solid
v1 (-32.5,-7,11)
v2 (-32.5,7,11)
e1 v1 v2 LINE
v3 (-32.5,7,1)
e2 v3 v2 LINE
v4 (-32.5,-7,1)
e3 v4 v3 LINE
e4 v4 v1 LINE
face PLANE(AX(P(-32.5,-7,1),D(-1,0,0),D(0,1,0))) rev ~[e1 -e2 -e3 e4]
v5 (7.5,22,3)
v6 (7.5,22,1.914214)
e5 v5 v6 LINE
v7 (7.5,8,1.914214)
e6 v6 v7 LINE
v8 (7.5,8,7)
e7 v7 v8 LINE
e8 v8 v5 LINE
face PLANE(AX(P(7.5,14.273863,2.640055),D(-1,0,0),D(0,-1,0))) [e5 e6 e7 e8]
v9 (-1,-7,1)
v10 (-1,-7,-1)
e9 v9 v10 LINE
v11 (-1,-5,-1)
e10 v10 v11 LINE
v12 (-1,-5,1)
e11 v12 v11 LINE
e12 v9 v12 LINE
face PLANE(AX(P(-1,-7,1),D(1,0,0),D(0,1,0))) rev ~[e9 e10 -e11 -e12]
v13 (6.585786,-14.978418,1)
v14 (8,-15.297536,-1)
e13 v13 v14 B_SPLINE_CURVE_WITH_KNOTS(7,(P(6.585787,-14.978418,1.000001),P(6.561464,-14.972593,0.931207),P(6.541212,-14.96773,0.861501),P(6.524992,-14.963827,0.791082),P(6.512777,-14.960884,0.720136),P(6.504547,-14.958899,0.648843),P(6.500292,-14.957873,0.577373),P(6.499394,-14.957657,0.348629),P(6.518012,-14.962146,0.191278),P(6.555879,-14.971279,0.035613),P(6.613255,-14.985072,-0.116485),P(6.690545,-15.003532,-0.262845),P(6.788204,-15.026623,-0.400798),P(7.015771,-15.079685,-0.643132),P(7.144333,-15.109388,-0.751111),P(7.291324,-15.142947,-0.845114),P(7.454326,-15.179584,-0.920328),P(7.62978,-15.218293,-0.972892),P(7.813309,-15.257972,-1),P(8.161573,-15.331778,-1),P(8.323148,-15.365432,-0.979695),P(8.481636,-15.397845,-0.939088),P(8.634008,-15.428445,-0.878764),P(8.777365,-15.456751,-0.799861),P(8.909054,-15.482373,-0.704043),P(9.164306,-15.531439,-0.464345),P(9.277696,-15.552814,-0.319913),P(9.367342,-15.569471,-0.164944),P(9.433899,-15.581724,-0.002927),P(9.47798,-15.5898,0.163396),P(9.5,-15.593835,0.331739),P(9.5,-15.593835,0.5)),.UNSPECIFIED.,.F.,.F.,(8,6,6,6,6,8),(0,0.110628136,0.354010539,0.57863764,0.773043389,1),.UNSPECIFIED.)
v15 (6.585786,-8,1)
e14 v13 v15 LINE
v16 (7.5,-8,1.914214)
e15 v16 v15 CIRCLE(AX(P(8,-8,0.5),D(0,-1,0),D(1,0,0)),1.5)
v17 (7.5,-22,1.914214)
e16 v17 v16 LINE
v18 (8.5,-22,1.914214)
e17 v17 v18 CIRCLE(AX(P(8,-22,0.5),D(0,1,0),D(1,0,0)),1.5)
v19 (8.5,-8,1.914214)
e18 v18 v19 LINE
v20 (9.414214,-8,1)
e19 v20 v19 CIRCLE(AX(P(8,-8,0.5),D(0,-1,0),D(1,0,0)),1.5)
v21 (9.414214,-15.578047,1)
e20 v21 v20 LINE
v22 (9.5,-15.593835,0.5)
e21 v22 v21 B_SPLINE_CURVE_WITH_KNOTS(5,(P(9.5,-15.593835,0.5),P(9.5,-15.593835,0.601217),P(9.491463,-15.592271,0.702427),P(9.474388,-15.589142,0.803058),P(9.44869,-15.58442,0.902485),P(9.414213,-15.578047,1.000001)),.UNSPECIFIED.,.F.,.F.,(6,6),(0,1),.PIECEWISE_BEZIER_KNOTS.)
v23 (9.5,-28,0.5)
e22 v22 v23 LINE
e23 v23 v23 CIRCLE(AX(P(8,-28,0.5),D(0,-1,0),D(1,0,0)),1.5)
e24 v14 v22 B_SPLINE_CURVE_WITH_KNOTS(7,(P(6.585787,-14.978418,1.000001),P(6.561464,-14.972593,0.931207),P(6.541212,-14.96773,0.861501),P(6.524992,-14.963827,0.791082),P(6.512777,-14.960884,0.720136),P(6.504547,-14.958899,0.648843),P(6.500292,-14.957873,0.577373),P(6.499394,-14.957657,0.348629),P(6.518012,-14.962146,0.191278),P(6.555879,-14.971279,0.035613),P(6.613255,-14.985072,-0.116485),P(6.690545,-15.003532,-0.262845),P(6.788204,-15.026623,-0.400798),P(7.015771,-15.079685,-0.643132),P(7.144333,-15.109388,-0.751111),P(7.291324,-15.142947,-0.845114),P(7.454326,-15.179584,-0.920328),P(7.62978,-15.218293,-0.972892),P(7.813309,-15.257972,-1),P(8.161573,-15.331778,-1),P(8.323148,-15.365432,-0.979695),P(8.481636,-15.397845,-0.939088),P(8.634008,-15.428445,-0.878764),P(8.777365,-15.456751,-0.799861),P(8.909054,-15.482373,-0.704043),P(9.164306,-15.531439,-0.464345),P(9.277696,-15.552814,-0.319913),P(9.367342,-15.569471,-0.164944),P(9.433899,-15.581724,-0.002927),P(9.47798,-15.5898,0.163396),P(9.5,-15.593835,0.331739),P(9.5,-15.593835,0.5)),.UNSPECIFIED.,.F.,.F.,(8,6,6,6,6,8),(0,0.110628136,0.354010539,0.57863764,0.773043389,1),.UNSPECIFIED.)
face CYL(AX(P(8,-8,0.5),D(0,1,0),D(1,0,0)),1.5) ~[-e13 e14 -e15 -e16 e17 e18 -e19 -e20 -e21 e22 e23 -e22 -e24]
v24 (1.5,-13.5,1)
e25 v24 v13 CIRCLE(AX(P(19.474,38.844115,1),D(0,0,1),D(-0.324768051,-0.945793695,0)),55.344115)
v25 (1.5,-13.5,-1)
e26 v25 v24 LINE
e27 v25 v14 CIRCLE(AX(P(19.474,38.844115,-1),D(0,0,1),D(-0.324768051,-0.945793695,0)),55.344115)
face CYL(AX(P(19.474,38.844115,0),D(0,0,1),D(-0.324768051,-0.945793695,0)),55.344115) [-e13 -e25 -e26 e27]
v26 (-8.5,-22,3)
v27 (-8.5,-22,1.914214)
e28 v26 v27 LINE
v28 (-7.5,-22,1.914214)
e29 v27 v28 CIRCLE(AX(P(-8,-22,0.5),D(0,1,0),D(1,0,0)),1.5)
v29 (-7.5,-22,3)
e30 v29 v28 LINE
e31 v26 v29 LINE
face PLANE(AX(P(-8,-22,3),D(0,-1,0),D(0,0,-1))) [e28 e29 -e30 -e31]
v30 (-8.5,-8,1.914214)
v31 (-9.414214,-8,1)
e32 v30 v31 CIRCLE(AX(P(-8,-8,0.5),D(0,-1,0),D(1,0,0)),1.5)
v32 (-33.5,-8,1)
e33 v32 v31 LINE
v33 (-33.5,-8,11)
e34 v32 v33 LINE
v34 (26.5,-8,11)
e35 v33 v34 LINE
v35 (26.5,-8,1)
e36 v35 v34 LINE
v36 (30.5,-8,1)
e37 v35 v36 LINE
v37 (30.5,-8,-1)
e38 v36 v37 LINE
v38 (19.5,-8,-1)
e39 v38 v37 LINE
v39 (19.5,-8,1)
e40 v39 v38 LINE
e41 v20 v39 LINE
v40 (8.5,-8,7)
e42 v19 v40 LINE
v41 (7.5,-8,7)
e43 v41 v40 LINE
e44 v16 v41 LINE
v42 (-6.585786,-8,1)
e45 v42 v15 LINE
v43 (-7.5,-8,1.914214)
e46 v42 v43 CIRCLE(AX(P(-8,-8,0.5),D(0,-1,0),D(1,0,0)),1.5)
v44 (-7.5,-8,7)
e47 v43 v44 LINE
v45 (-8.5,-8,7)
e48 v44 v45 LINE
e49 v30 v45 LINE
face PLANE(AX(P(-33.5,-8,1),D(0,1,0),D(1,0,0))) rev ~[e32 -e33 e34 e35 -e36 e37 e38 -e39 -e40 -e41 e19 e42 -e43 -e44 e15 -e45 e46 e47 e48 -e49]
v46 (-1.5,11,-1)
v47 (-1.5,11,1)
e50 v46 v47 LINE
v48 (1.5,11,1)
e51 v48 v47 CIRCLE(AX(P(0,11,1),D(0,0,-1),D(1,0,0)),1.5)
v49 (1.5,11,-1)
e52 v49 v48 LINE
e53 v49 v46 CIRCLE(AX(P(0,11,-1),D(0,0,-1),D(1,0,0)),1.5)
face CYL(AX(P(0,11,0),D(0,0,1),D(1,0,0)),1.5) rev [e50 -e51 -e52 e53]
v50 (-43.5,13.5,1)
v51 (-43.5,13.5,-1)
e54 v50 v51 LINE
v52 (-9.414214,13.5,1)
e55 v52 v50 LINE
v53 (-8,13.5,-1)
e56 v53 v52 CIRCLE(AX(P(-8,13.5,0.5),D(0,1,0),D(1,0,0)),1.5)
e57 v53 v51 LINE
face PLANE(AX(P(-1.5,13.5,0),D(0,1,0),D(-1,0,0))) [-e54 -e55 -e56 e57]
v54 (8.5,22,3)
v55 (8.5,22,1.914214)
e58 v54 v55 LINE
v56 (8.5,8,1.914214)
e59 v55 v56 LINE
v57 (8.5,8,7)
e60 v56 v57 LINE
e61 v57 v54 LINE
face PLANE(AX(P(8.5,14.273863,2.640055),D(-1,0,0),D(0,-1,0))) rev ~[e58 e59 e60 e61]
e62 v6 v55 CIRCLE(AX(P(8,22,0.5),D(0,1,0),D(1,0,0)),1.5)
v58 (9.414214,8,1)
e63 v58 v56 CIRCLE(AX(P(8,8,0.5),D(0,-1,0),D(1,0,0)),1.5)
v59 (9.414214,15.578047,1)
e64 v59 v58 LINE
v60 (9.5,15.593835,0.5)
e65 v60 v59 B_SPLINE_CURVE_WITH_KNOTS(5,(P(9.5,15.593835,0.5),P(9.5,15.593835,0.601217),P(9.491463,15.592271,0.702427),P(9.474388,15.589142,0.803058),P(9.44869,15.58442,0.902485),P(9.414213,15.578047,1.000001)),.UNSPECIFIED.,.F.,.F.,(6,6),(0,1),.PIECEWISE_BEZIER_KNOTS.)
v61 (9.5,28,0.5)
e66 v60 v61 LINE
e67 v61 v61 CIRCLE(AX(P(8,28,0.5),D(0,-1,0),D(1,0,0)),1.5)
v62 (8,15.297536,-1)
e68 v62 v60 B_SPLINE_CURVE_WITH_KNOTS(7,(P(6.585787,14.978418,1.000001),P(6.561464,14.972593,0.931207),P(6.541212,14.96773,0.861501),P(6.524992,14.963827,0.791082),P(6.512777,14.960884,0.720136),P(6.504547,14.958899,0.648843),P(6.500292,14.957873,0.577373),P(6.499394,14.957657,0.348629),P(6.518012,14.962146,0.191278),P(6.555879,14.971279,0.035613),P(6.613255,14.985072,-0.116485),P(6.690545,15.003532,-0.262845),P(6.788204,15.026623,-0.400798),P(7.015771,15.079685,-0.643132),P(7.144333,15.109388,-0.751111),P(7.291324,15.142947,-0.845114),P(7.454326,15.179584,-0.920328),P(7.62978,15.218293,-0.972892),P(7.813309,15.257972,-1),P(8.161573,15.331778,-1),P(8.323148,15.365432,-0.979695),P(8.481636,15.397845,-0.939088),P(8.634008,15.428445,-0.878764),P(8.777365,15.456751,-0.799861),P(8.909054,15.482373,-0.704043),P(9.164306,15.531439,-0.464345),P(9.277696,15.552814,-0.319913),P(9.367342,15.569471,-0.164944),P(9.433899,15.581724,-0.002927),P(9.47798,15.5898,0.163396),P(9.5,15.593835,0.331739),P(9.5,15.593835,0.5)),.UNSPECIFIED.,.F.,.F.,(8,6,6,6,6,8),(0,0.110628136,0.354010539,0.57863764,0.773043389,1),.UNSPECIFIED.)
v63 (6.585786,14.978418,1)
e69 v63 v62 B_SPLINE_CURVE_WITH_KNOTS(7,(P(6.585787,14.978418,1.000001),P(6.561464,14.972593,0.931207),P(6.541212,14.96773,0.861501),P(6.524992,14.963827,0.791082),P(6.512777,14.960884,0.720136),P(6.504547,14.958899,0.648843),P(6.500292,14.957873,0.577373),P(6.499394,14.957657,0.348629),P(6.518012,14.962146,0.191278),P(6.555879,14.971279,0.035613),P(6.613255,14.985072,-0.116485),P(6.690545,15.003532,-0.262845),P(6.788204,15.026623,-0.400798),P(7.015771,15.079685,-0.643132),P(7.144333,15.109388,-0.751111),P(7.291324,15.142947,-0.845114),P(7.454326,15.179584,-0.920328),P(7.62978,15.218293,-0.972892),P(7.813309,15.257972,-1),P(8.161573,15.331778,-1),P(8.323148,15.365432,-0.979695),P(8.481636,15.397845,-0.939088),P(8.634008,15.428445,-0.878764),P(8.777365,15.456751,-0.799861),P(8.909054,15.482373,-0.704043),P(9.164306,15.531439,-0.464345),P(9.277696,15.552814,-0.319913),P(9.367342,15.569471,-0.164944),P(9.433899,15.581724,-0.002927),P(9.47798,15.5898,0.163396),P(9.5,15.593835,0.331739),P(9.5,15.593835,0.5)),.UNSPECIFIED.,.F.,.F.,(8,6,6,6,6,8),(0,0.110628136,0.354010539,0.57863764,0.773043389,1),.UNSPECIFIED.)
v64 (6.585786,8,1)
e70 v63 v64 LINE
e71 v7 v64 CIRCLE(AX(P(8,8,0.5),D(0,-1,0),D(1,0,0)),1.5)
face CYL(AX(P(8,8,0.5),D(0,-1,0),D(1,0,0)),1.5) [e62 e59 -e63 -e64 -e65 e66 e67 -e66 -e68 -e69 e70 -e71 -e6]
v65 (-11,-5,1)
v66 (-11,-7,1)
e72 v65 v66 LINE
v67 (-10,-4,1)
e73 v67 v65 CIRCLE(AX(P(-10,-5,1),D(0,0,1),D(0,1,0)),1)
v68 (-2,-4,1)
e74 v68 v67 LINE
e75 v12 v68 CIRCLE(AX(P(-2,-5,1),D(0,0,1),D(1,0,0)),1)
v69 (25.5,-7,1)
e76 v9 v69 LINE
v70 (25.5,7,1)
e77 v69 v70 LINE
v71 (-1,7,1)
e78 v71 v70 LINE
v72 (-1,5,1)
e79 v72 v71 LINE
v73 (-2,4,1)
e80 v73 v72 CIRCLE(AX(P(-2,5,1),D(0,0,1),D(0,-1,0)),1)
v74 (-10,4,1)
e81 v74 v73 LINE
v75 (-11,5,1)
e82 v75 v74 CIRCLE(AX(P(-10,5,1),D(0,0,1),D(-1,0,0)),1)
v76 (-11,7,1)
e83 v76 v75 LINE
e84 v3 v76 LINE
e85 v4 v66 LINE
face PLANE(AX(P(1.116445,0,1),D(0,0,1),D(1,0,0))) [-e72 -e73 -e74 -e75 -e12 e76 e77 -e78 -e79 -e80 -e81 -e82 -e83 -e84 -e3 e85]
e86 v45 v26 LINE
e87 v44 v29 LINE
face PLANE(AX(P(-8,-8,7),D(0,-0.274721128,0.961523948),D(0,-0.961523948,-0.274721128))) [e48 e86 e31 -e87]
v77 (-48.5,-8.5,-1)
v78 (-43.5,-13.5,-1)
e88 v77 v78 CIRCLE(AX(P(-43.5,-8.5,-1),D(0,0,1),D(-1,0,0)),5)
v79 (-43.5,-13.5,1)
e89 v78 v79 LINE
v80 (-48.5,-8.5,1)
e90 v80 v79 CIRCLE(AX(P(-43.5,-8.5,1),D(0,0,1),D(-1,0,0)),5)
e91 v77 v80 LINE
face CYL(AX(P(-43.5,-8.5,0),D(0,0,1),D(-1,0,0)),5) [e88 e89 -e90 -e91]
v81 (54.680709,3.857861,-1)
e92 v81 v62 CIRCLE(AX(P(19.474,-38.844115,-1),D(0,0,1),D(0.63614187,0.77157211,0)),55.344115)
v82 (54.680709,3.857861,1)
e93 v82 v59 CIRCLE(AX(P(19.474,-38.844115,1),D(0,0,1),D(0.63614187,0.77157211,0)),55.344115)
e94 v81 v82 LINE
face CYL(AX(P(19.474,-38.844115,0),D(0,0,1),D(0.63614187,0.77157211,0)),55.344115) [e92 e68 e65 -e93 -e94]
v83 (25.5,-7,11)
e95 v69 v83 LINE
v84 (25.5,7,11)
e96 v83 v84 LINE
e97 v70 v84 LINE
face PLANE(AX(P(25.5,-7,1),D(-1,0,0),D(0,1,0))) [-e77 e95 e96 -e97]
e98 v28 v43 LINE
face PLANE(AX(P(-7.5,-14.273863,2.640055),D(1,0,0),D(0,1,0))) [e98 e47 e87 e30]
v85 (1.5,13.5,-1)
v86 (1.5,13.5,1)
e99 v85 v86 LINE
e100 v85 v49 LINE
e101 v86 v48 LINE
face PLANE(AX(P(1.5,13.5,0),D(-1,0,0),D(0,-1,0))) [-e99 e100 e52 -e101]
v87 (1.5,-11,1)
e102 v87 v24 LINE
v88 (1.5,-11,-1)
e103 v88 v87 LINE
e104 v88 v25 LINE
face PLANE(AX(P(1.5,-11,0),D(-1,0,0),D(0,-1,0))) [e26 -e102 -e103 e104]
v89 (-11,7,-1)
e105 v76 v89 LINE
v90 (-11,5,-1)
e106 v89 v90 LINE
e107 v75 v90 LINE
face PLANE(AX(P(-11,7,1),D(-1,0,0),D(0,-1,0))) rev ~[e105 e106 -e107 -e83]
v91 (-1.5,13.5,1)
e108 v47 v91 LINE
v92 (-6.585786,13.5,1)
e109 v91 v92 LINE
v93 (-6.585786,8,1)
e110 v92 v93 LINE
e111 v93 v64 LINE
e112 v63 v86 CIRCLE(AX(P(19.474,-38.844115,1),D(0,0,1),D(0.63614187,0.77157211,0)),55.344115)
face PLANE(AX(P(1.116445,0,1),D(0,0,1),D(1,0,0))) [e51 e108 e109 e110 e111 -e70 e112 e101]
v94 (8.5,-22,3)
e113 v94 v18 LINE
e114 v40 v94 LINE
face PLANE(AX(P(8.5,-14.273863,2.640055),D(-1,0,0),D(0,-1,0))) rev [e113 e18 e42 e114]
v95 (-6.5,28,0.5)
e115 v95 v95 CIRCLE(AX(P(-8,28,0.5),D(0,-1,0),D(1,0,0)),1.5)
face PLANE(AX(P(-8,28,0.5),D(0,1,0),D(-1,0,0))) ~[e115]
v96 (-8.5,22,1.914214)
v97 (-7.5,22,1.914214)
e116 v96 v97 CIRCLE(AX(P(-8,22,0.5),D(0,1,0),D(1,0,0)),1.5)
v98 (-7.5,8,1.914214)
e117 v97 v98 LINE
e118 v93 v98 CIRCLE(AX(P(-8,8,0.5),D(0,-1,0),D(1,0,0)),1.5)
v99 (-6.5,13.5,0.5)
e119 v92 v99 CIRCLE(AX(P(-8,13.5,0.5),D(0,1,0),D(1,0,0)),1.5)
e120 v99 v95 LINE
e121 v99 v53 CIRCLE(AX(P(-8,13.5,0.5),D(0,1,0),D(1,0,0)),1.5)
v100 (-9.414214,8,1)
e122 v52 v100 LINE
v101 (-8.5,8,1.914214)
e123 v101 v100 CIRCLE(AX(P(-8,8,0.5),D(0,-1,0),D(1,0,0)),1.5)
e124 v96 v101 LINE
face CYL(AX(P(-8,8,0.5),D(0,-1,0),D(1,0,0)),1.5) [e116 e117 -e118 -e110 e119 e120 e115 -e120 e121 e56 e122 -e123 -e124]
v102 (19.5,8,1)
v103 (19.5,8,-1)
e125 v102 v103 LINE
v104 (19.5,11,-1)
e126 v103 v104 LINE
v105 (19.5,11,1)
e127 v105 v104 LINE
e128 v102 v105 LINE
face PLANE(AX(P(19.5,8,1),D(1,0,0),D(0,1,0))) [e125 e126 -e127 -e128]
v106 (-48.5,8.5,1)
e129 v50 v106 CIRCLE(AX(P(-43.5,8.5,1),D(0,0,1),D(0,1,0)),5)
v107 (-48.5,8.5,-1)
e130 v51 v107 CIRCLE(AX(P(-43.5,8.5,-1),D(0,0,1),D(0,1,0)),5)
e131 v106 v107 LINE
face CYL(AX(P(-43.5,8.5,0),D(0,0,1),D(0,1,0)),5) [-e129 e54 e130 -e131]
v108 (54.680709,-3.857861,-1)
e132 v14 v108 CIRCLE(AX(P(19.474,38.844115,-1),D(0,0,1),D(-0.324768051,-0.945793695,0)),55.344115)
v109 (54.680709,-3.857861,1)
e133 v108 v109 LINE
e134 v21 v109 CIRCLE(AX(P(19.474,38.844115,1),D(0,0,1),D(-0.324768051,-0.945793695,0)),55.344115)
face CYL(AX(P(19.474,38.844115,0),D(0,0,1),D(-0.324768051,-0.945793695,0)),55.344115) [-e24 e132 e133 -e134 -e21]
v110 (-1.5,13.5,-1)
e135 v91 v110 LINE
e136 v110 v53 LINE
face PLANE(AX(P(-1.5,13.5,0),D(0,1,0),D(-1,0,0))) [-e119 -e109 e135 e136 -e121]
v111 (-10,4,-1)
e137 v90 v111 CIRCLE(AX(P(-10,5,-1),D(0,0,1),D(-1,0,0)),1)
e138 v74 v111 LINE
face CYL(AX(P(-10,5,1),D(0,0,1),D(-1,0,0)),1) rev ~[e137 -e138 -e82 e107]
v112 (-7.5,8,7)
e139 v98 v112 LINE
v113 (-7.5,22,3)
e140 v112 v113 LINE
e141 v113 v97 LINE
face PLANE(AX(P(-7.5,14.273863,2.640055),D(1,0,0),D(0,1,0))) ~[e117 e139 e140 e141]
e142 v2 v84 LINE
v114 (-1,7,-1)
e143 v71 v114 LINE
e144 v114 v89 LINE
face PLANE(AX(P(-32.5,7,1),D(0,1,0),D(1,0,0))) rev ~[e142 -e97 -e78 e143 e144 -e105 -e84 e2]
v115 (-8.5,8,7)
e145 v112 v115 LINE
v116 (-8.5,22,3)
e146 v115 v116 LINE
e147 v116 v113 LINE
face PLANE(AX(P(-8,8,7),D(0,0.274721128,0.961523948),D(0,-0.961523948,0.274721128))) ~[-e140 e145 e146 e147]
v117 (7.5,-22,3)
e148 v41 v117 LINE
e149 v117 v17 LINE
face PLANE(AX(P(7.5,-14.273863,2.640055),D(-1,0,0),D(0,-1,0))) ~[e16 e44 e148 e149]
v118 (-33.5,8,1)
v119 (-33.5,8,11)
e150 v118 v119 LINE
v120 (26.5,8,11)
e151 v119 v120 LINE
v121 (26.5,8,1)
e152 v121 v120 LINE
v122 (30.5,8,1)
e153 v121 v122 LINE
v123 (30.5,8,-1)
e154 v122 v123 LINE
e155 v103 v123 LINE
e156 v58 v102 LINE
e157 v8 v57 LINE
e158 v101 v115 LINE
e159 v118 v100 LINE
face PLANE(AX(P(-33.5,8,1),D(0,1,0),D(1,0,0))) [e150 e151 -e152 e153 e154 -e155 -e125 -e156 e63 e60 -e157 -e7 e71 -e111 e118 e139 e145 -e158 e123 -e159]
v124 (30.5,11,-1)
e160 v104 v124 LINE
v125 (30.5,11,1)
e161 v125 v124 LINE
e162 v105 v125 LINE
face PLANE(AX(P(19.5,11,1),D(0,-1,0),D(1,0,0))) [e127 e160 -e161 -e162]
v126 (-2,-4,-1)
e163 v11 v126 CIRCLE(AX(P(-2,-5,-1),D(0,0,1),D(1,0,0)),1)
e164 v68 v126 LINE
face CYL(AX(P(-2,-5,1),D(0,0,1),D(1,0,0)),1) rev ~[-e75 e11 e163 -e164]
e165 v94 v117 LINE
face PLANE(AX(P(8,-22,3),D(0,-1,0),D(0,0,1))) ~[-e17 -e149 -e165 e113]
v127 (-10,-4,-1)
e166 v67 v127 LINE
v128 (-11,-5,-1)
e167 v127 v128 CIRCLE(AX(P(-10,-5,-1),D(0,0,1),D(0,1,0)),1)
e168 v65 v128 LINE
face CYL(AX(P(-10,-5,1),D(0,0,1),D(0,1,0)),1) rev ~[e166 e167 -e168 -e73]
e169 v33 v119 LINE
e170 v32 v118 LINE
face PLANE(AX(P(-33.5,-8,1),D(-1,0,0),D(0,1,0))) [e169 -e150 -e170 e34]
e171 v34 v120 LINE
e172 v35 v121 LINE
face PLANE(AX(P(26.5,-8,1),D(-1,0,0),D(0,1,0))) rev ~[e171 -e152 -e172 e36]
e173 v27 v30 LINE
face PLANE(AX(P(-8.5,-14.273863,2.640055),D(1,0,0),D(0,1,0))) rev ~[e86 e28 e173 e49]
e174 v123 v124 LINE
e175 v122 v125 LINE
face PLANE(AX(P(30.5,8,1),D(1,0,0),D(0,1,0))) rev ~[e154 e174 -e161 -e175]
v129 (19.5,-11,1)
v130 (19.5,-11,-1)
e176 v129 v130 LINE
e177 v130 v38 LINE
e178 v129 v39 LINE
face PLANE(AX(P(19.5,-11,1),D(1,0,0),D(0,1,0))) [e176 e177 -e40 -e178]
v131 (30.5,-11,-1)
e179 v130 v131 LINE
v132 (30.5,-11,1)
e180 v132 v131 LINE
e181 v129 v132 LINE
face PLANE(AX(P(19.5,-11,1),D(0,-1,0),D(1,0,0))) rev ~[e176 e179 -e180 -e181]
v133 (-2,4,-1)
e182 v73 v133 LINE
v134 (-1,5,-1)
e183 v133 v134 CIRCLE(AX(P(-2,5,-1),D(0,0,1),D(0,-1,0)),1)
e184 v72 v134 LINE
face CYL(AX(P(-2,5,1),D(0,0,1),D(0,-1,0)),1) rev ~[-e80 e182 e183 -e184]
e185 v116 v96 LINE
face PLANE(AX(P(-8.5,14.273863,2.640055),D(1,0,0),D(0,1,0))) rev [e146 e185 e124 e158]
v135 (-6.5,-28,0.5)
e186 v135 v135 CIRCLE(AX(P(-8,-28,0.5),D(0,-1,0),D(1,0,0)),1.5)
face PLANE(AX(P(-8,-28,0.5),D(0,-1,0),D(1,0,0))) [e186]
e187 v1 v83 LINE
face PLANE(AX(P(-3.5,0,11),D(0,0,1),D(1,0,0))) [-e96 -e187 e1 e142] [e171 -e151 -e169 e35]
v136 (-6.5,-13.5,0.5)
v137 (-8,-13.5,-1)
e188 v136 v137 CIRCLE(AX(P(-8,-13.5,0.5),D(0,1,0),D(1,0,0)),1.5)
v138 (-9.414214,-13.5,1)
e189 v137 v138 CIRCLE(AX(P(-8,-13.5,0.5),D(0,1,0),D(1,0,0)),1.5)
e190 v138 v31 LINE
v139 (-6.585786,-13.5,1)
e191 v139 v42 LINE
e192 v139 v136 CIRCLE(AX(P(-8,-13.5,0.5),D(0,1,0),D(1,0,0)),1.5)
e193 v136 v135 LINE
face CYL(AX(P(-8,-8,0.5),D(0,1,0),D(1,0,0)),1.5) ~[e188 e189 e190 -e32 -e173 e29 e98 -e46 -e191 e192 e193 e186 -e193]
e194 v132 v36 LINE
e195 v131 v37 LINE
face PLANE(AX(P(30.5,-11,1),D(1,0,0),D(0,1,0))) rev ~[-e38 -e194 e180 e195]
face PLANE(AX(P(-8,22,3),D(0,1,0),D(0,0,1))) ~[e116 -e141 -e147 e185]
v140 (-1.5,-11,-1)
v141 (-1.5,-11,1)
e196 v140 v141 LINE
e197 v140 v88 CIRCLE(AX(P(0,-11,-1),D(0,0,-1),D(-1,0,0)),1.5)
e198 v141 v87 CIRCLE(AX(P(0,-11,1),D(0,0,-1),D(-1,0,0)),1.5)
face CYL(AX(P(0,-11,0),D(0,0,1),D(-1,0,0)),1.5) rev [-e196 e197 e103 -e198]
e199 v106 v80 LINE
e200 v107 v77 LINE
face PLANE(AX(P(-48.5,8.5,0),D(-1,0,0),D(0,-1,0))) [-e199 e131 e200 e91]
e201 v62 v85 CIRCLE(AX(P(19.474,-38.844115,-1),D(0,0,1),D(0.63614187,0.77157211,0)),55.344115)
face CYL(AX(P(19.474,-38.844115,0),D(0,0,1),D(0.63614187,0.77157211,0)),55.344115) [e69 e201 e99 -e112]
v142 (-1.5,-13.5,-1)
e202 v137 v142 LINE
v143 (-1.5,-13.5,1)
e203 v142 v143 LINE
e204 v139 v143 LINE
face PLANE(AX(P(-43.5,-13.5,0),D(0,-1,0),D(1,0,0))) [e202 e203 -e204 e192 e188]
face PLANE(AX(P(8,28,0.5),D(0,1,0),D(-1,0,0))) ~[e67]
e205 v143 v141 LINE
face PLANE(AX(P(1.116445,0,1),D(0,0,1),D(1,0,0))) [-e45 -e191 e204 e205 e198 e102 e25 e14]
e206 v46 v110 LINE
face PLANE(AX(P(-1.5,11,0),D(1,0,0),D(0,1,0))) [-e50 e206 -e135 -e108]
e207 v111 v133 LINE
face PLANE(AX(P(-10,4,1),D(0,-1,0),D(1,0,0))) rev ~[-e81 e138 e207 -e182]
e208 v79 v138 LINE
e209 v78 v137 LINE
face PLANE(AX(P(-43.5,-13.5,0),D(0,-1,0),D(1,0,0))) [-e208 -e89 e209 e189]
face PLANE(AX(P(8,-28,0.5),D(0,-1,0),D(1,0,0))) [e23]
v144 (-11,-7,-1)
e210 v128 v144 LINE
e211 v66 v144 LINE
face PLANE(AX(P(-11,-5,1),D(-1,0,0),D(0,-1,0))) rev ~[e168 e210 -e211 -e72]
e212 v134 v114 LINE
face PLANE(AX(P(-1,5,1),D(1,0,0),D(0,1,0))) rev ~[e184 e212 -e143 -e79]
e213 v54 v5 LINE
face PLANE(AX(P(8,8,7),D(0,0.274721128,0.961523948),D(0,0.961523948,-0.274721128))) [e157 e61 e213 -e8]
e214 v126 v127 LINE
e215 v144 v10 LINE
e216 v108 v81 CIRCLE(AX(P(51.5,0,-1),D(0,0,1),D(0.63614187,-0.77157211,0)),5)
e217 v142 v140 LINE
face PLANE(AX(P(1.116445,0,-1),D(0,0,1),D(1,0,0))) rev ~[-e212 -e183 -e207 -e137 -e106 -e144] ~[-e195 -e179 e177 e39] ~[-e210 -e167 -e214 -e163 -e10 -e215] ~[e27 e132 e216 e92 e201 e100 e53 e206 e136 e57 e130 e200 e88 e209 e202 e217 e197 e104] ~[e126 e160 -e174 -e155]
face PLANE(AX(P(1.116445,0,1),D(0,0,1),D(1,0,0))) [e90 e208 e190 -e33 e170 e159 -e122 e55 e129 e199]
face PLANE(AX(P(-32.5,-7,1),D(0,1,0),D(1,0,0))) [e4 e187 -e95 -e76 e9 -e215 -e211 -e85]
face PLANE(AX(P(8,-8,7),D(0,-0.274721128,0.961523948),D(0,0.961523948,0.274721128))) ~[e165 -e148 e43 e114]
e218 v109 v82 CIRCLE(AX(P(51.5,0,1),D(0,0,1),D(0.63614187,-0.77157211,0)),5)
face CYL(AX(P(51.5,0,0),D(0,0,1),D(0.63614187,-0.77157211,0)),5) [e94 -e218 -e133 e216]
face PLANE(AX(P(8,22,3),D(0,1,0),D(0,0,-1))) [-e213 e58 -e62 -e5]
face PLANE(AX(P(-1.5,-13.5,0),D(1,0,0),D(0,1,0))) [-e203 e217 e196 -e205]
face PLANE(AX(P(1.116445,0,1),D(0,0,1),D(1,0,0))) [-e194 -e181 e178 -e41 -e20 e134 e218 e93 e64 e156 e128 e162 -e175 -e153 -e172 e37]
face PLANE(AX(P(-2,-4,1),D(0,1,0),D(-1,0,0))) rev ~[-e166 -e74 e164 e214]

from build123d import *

# Parameters (mm, degrees)
F1_DEPTH  = 1
F2_W      = 60
F2_H      = 16
F2_W_2    = 58
F2_H_2    = 14
F3_DEPTH  = 10
F4_R      = 1.5
F5_DEPTH  = 20
F8_DEPTH  = 0.5
F11_W     = 11
F11_H     = 3
F12_DEPTH = 2.0010001


with BuildPart() as f1:
    # F0 (on Top) → F1 (new body, symmetric)
    with BuildSketch(Plane.XY):
        with BuildLine():
            Line((-48.5, 8.5), (-48.5, 0))
            Line((-48.5, 0), (-48.5, -8.5))
            ThreePointArc((-48.5, -8.5), (-47.0355339059, -12.0355339059), (-43.5, -13.5))
            Line((-43.5, -13.5), (-1.5, -13.5))
            Line((-1.5, -13.5), (-1.5, -11))
            ThreePointArc((-1.5, -11), (0, -9.5), (1.5, -11))
            Line((1.5, -11), (1.5, -13.5))
            ThreePointArc((1.5, -13.5), (29.3474128971, -15.612168306), (54.6807093507, -3.8578605504))
            ThreePointArc((54.6807093507, -3.8578605504), (56.5, 0), (54.6807093507, 3.8578605504))
            ThreePointArc((54.6807093507, 3.8578605504), (29.3474128971, 15.612168306), (1.5, 13.5))
            Line((1.5, 13.5), (1.5, 11))
            ThreePointArc((1.5, 11), (0, 9.5), (-1.5, 11))
            Line((-1.5, 11), (-1.5, 13.5))
            Line((-1.5, 13.5), (-43.5, 13.5))
            ThreePointArc((-43.5, 13.5), (-47.0355339059, 12.0355339059), (-48.5, 8.5))
        make_face()
    extrude(amount=F1_DEPTH, both=True)

    # F2 (on face) → F3 (join)
    with BuildSketch(Plane.XY.offset(1)):
        with Locations((-3.5, 0)):
            Rectangle(F2_W, F2_H)
        with Locations((-3.5, 0)):
            Rectangle(F2_W_2, F2_H_2, mode=Mode.SUBTRACT)
    extrude(amount=F3_DEPTH)

    # F4 (on face) → F5 (join)
    with BuildSketch(Plane.XZ.offset(8)):
        with Locations((-8, 0.5)):
            Circle(F4_R)
        with Locations((8, 0.5)):
            Circle(F4_R)
    extrude(amount=F5_DEPTH)



with BuildPart() as f8:
    # F7 (on offset) → F8 (new body, symmetric)
    with BuildSketch(Plane.YZ.offset(-8)):
        Polygon((-8, 7), (-22, 3), (-22, 0), (-8, 0), align=None)
    extrude(amount=F8_DEPTH, both=True)


with BuildPart() as f1_1:
    add(f1.part)

    add(f8.part)  # F9 merges F8
    # F9: F8 across plane
    add(f8.part.mirror(Plane.YZ))

    # F10: F1 across plane


with BuildPart() as f1_2:
    add(f1_1.part)
    add(f1_1.part.mirror(Plane.XZ))

    # F11 (on face) → F12 (cut, through all)
    with BuildSketch(Plane.XY.offset(1)):
        with Locations((25, 9.5)):
            Rectangle(F11_W, F11_H)
        with BuildLine():
            ThreePointArc((-11, 5), (-10.7071067812, 4.2928932188), (-10, 4))
            Line((-10, 4), (-2, 4))
            ThreePointArc((-2, 4), (-1.2928932188, 4.2928932188), (-1, 5))
            Line((-1, 5), (-1, 7))
            Line((-1, 7), (-11, 7))
            Line((-11, 7), (-11, 5))
        make_face()
        with BuildLine():
            ThreePointArc((-10, -4), (-10.7071067812, -4.2928932188), (-11, -5))
            Line((-11, -5), (-11, -7))
            Line((-11, -7), (-1, -7))
            Line((-1, -7), (-1, -5))
            ThreePointArc((-1, -5), (-1.2928932188, -4.2928932188), (-2, -4))
            Line((-2, -4), (-10, -4))
        make_face()
        with Locations((25, -9.5)):
            Rectangle(F11_W, F11_H)
    extrude(amount=-F12_DEPTH, mode=Mode.SUBTRACT)


solid = f1_2.part
